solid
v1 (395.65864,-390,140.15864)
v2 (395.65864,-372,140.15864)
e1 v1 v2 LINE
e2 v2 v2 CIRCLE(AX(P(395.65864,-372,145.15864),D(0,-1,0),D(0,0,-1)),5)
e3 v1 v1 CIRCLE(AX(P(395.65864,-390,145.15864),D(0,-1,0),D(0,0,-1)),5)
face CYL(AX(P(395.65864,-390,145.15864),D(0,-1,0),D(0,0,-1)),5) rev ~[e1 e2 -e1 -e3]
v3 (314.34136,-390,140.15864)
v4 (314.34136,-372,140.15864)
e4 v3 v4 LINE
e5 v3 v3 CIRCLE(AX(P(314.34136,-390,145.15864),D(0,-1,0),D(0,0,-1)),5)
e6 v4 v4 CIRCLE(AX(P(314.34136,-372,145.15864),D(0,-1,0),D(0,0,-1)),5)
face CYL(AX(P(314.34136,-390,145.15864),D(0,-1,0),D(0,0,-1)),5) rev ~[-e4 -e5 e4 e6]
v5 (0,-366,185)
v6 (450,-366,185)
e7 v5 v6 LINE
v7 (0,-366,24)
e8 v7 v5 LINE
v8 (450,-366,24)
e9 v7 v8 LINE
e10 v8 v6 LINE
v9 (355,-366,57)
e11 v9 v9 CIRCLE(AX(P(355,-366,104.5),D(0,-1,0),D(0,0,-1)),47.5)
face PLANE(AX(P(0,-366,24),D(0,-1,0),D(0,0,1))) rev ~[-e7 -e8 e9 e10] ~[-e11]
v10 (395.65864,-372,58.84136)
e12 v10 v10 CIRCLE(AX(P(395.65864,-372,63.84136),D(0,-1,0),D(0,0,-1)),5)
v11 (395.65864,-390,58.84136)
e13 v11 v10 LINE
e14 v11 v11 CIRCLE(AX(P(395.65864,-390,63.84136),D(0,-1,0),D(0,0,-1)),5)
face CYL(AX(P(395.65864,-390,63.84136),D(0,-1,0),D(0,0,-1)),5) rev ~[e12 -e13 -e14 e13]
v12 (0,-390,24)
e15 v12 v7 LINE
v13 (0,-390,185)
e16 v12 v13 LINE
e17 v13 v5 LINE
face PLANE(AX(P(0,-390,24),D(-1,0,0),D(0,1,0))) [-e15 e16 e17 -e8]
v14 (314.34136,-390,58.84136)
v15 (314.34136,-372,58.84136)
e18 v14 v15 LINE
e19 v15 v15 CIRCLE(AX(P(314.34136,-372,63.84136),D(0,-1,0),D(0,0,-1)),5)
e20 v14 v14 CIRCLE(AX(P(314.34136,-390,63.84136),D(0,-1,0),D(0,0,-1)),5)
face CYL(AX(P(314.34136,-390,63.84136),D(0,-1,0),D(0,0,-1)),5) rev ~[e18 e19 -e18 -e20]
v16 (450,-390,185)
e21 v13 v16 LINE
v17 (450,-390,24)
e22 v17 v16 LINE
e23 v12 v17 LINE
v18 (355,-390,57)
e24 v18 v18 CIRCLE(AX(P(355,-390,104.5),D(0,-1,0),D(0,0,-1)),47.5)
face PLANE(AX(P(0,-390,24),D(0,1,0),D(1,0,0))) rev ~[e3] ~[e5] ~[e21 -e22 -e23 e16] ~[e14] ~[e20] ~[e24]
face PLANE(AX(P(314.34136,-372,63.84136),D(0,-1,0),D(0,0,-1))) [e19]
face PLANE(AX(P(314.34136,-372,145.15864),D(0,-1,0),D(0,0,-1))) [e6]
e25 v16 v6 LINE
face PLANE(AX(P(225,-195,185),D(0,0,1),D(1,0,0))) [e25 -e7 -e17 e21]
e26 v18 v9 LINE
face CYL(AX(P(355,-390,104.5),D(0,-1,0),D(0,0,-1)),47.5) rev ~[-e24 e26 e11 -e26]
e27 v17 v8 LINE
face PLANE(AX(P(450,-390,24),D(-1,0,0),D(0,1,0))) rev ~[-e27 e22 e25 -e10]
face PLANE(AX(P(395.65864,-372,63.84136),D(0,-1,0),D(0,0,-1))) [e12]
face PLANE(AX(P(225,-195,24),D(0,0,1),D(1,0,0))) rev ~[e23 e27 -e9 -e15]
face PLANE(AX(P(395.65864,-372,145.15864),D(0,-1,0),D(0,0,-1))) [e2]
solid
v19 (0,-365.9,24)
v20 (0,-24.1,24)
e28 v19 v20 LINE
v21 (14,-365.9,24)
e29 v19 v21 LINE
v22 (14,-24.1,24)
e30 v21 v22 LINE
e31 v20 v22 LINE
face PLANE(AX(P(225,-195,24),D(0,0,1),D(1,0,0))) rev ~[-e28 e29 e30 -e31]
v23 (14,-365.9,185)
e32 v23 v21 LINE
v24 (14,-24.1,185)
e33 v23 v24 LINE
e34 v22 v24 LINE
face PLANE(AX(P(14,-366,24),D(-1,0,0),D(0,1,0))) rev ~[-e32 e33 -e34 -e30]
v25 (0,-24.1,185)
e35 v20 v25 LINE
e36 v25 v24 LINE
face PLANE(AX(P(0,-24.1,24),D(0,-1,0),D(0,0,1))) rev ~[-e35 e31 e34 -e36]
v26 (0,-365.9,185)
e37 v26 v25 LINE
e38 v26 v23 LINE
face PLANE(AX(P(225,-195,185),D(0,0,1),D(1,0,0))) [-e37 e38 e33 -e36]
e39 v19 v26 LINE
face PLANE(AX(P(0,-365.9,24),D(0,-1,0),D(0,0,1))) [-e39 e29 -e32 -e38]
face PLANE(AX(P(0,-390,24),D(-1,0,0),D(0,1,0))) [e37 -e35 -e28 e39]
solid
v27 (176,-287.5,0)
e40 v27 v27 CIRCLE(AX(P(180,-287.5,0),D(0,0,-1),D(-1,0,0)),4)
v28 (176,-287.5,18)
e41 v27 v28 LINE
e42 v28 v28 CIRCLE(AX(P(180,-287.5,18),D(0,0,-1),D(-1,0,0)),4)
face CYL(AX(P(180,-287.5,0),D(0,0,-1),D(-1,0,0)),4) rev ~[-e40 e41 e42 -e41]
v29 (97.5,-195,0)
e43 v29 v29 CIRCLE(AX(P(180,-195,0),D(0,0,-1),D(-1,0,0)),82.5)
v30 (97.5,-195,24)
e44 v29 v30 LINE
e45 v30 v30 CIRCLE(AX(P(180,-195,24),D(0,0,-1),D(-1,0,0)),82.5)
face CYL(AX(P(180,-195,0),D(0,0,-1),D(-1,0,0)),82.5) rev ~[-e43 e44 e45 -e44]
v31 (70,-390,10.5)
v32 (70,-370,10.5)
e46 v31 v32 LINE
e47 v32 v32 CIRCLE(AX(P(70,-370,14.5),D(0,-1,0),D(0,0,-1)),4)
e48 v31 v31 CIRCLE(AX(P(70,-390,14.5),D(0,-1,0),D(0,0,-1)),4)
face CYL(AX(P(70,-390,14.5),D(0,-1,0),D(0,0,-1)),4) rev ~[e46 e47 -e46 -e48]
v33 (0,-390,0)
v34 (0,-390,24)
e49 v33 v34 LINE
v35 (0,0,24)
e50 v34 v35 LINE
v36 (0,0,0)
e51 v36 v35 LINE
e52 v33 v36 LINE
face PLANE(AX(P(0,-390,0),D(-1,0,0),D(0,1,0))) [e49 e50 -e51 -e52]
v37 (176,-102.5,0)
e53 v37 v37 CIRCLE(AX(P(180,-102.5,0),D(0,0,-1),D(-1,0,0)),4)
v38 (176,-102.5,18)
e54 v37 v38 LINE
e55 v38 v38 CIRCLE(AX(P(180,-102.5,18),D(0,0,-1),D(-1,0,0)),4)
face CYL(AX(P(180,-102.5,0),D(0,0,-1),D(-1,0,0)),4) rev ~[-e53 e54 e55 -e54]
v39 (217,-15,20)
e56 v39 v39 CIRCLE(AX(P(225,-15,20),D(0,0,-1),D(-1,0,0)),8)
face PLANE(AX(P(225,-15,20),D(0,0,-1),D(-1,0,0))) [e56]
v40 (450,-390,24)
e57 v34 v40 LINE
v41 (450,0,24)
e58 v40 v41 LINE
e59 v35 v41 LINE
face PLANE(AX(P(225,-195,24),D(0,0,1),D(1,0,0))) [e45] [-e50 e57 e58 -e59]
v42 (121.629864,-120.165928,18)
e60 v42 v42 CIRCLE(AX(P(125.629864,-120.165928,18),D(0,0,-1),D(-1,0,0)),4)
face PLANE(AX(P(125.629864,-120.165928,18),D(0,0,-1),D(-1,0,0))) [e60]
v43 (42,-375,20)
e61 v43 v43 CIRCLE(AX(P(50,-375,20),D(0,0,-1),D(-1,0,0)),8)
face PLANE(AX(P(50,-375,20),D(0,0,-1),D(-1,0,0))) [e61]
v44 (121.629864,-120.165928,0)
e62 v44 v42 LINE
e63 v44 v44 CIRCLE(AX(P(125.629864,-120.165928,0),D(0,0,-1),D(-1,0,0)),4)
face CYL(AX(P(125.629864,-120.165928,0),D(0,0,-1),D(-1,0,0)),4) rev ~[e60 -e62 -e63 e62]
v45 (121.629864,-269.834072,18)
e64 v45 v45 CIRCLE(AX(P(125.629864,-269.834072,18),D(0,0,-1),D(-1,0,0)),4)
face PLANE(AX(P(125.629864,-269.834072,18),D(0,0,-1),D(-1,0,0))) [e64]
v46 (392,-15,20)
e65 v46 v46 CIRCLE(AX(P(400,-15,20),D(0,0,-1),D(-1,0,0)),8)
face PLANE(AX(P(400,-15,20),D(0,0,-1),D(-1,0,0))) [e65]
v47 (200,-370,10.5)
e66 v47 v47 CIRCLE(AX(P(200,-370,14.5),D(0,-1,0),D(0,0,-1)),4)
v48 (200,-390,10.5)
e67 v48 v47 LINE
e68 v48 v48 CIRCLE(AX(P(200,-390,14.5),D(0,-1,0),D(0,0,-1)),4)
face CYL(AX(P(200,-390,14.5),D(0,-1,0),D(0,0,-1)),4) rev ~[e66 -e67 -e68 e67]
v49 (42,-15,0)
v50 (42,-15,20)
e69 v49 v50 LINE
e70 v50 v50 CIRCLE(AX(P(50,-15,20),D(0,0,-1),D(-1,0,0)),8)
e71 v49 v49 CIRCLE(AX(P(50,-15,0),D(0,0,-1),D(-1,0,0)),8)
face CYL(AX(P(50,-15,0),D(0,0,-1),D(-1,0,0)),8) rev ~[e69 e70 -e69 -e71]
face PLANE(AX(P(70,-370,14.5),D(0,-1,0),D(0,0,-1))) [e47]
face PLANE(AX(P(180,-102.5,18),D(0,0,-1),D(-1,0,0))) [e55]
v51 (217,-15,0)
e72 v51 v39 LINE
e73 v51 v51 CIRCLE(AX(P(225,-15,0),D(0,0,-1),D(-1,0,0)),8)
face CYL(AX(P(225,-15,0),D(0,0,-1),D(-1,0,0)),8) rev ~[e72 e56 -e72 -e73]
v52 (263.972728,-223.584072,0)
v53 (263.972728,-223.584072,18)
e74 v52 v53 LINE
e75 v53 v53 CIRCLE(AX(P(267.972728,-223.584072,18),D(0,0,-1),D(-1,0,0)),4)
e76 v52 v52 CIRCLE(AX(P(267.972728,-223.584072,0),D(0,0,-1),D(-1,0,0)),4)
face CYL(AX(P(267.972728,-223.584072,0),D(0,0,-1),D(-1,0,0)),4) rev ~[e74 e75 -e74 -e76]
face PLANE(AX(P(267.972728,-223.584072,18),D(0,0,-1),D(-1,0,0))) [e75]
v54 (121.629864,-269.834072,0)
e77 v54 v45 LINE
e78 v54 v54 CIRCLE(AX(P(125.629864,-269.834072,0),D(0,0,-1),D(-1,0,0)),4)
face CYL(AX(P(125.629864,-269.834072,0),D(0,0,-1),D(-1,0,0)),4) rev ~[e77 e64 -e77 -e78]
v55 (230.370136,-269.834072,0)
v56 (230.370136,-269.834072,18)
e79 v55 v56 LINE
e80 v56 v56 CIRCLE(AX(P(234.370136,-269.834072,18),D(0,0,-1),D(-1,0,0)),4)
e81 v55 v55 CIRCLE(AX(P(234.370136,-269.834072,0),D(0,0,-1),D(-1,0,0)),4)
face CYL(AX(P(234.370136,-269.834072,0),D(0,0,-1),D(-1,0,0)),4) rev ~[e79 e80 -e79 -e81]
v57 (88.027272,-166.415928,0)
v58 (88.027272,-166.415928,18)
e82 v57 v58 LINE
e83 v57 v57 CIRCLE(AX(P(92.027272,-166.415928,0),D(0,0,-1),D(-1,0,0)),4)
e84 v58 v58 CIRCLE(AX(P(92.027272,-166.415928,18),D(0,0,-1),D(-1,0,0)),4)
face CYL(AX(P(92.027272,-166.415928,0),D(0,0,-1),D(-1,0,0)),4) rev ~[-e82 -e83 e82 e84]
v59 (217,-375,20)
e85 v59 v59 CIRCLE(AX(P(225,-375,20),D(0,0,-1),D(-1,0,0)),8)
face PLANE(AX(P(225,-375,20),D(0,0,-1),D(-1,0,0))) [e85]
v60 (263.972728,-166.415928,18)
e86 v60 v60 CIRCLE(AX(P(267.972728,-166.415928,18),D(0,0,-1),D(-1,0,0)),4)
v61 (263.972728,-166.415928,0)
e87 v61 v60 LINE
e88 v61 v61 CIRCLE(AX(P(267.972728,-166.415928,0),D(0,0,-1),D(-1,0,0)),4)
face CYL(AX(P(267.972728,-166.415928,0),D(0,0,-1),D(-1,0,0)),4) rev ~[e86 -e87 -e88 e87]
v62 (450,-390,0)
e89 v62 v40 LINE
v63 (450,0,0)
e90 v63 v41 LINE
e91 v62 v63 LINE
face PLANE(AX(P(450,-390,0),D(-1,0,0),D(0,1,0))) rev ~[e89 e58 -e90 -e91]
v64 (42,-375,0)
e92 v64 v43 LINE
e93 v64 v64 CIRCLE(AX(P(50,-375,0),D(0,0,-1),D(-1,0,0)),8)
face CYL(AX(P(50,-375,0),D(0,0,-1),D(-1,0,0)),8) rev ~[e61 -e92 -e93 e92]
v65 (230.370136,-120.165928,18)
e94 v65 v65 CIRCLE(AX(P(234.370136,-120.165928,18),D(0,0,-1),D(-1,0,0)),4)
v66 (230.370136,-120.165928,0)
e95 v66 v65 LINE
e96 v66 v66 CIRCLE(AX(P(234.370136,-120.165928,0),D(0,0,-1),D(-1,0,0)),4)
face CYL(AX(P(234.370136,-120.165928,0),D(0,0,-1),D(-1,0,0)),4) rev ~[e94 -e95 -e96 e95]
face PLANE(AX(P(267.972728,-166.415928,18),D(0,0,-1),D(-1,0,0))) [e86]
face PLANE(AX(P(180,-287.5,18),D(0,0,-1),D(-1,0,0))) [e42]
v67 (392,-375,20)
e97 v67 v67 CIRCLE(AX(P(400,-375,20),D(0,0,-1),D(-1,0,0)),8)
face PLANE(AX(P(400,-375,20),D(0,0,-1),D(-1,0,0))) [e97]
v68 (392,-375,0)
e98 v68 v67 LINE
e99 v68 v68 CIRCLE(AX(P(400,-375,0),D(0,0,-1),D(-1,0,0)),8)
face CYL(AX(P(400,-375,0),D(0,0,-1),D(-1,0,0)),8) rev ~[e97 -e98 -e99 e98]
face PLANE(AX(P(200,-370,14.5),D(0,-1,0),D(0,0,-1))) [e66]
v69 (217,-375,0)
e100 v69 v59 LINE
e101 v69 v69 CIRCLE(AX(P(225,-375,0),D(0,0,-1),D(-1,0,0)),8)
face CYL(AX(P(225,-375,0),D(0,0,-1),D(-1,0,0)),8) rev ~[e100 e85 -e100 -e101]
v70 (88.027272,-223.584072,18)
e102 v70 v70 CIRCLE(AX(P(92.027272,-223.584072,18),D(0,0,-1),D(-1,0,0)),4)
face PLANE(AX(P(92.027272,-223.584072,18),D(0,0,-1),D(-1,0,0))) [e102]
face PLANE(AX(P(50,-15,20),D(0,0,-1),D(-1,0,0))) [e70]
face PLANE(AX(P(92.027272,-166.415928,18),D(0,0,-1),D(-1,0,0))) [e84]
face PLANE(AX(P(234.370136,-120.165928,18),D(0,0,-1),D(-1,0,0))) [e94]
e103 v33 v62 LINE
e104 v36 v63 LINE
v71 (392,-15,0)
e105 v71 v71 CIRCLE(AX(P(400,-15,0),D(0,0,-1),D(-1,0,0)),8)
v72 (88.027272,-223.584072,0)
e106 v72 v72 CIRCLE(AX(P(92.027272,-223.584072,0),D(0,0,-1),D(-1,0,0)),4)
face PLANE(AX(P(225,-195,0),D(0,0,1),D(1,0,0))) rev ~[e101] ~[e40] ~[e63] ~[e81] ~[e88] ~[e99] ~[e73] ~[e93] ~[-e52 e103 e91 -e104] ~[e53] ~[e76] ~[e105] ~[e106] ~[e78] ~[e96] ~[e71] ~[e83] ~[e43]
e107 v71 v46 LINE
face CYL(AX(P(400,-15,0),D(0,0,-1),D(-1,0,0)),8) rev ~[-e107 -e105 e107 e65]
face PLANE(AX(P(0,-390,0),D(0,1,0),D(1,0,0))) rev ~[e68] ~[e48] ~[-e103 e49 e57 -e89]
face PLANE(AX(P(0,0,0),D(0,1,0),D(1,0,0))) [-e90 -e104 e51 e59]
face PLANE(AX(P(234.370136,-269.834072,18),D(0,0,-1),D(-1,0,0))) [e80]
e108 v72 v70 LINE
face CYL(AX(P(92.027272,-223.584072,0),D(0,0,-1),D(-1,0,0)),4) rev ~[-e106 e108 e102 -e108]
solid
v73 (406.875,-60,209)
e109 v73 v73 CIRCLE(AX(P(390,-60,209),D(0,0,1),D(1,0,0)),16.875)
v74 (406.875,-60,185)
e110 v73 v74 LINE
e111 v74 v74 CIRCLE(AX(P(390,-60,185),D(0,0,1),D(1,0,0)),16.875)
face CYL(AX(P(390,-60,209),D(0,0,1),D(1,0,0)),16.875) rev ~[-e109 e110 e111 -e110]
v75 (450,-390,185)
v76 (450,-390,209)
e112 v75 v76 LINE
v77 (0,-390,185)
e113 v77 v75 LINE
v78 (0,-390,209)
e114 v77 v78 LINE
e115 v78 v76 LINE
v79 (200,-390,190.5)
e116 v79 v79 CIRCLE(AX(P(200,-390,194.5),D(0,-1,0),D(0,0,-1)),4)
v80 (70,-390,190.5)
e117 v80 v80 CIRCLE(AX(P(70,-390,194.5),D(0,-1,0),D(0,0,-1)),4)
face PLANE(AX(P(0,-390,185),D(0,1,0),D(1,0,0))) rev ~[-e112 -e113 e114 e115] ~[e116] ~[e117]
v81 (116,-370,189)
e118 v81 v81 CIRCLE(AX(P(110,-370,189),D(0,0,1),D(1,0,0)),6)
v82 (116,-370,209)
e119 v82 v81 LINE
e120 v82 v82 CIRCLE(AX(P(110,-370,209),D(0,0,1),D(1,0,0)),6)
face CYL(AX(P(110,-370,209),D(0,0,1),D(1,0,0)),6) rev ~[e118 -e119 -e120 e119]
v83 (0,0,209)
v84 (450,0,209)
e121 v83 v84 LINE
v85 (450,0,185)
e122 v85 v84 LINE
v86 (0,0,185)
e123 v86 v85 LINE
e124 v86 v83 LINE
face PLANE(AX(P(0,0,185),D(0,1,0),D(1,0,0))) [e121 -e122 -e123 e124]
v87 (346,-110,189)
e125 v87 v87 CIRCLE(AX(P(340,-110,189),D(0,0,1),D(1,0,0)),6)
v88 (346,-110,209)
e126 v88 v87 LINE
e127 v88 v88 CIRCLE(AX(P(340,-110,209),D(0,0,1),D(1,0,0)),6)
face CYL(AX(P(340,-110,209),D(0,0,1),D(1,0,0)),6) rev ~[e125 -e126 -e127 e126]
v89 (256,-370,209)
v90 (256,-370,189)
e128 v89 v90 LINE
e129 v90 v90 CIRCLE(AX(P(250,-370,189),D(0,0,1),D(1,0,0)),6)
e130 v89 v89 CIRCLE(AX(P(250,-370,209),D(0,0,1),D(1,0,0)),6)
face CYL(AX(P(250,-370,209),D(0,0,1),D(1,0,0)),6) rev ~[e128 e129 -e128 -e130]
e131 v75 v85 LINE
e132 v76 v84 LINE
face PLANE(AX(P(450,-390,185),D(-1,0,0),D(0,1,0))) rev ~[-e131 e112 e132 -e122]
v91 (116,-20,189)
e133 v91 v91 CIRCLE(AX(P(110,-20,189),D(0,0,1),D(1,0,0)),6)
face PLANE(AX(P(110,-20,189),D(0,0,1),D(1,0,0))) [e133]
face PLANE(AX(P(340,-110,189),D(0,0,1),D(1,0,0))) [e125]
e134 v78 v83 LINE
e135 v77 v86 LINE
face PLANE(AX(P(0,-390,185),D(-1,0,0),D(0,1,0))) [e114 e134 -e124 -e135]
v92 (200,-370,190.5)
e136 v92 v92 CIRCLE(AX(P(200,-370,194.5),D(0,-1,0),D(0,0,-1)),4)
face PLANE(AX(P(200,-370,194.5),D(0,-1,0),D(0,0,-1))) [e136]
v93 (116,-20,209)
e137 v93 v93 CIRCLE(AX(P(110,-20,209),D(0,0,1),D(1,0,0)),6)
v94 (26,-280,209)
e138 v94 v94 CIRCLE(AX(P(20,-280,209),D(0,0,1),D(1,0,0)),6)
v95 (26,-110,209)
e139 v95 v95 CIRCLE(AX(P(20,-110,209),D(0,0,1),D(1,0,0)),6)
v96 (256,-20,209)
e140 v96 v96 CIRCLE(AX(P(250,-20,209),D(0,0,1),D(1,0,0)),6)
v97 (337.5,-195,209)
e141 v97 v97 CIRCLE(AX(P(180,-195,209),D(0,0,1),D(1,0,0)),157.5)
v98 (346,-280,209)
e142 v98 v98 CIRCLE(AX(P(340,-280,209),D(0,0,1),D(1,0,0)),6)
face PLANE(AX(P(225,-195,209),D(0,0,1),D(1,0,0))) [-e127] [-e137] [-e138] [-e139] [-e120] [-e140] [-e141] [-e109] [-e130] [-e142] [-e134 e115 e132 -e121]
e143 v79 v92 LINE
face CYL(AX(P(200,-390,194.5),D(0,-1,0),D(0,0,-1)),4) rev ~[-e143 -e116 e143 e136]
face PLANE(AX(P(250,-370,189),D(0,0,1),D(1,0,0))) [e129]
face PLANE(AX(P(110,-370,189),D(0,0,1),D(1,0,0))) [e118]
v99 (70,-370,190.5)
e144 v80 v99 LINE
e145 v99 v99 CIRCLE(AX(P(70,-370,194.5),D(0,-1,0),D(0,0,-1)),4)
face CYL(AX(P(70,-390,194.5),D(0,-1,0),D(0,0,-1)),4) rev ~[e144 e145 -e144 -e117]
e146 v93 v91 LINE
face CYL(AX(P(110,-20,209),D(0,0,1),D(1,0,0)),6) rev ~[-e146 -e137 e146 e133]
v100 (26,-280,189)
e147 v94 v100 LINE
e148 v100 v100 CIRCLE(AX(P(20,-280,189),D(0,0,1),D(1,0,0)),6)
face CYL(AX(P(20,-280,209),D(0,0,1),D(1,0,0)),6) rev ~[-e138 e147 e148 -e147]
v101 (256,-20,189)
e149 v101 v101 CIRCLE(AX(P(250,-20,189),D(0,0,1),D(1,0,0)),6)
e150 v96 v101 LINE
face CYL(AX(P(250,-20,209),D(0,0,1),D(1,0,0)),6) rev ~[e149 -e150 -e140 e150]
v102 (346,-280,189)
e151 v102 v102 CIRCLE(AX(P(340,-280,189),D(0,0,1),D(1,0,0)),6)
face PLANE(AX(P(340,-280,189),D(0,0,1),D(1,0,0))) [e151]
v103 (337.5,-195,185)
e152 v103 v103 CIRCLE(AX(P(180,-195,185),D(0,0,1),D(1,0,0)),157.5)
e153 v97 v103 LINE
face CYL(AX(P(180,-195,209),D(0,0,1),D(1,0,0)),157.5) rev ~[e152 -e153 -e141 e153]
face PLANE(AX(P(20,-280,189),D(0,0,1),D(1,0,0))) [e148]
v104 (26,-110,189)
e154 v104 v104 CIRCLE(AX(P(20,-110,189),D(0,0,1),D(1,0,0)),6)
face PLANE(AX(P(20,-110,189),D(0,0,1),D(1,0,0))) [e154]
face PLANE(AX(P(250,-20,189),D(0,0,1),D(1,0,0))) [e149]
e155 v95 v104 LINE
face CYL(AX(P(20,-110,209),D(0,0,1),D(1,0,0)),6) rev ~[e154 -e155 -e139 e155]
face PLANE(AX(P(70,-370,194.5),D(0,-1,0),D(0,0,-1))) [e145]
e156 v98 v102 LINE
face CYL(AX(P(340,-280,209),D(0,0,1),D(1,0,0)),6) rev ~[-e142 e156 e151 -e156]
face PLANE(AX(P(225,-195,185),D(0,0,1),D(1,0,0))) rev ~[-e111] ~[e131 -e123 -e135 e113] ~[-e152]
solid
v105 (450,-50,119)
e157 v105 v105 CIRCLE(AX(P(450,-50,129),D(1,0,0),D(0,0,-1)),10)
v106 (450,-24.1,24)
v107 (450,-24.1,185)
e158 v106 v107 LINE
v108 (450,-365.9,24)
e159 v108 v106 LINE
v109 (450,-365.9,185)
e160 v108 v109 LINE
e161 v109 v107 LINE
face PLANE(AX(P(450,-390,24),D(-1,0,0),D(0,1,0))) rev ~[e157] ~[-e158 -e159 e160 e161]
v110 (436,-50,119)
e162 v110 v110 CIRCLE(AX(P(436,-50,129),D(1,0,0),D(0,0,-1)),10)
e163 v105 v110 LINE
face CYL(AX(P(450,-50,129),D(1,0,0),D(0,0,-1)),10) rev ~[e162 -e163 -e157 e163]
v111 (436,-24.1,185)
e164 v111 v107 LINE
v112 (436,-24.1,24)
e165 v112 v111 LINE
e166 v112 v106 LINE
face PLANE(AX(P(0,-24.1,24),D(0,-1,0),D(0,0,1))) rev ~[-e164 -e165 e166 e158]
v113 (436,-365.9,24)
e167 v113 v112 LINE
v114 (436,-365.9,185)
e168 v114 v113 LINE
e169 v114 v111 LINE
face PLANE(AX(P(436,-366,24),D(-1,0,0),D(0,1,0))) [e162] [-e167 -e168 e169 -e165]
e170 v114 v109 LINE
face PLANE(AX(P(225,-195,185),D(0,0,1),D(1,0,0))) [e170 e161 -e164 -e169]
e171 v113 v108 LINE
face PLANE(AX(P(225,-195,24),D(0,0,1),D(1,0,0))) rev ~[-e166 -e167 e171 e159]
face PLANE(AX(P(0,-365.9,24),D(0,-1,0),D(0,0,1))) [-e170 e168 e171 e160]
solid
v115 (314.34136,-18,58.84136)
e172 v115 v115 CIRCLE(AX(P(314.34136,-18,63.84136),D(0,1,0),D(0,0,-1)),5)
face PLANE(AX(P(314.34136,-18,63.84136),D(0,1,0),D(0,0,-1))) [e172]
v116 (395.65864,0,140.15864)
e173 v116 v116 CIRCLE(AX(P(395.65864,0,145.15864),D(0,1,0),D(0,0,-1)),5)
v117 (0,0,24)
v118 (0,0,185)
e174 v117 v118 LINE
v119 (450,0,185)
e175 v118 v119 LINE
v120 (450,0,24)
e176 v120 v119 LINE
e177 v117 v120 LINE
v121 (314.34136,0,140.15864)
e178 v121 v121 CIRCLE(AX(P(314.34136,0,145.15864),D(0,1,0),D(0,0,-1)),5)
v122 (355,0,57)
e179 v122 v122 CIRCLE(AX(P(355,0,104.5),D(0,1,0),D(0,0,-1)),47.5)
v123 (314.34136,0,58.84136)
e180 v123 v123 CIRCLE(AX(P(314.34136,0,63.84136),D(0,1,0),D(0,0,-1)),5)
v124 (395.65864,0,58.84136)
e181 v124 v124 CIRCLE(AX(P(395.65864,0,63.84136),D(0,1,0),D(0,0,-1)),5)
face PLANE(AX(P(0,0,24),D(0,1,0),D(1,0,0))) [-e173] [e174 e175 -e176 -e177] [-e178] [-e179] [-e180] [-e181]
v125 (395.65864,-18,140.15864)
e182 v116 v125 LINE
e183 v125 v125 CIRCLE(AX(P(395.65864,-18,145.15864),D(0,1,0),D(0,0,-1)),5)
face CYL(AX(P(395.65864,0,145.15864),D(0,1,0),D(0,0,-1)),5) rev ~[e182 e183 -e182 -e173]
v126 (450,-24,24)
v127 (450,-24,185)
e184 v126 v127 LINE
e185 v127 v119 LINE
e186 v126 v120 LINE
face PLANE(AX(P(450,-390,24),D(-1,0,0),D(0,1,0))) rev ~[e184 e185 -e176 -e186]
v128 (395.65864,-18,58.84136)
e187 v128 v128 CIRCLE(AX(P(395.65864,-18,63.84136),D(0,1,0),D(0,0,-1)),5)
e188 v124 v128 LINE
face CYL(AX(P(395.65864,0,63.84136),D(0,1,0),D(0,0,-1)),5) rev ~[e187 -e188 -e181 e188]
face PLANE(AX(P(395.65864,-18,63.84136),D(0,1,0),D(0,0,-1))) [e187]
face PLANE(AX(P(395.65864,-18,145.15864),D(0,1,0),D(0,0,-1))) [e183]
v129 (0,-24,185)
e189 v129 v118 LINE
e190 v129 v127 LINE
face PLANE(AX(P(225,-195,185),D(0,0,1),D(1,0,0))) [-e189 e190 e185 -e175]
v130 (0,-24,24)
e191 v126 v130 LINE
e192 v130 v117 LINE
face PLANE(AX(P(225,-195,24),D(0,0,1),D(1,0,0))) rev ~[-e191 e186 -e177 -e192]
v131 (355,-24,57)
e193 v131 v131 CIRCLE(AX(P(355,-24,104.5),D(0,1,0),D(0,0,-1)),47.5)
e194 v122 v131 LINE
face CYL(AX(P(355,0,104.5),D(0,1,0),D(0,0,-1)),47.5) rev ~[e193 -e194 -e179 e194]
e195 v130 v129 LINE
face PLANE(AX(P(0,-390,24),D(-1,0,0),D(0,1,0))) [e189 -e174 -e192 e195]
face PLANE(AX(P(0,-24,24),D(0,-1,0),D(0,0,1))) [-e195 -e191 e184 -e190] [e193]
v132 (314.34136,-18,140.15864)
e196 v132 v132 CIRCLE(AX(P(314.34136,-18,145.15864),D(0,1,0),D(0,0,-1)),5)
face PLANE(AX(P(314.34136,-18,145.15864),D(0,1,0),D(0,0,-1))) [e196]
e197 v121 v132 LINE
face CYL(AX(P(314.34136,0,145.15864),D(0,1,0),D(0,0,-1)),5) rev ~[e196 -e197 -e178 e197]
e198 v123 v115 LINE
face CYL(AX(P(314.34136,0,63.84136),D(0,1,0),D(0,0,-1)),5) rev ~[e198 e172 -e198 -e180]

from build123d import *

# Parameters (mm, degrees)
SKETCH_1_W           = 450
SKETCH_1_H           = 390
EXTRUDE_1_DEPTH      = 24
SKETCH_2_W           = 450
SKETCH_2_H           = 390
SKETCH_2_W_2         = 402
SKETCH_2_H_2         = 342
EXTRUDE_2_DEPTH      = 161
SKETCH_3_W           = 450
SKETCH_3_H           = 390
EXTRUDE_3_DEPTH      = 24
SKETCH_6_R           = 82.5
CUT_EXTRUDE_3_DEPTH  = 33
SKETCH_9_R           = 4
CUT_EXTRUDE_4_DEPTH  = 18
SKETCH_4_R           = 157.5
CUT_EXTRUDE_5_DEPTH  = 43
SKETCH_5_R           = 47.5
CUT_EXTRUDE_6_DEPTH  = 43
SKETCH_10_R          = 5
CUT_EXTRUDE_7_DEPTH  = 18
SKETCH_11_W          = 161
SKETCH_11_H          = 0.1
CUT_EXTRUDE_8_DEPTH  = 632.09508
SKETCH_12_R          = 47.5
CUT_EXTRUDE_9_DEPTH  = 40.2
SKETCH_13_R          = 5
CUT_EXTRUDE_10_DEPTH = 18
SKETCH_14_W          = 10
SKETCH_14_H          = 341.9
CUT_EXTRUDE_12_DEPTH = 161
SKETCH_17_R          = 4
CUT_EXTRUDE_14_DEPTH = 20
SKETCH_19_R          = 8
CUT_EXTRUDE_18_DEPTH = 20
SKETCH_20_R          = 6
CUT_EXTRUDE_19_DEPTH = 20
SKETCH_21_R          = 10
CUT_EXTRUDE_20_DEPTH = 35
SKETCH_22_R          = 16.875
CUT_EXTRUDE_21_DEPTH = 40


with BuildPart() as part:
    # 草图1 → 拉伸1 (new body)
    with BuildSketch(Plane.XY):
        with Locations((225, -195)):
            Rectangle(SKETCH_1_W, SKETCH_1_H)
    extrude(amount=EXTRUDE_1_DEPTH)

    # 草图6 → 切除-拉伸3 (cut)
    with BuildSketch(Plane(origin=(0, 0, 0), x_dir=(-1, 0, 0), z_dir=(0, 0, -1))):
        with Locations((-180, -195)):
            Circle(SKETCH_6_R)
    extrude(amount=-CUT_EXTRUDE_3_DEPTH, mode=Mode.SUBTRACT)

    # 草图9 → 切除-拉伸4 (cut)
    with BuildSketch(Plane(origin=(0, 0, 0), x_dir=(-1, 0, 0), z_dir=(0, 0, -1))):
        with Locations((-180, -102.5)):
            Circle(SKETCH_9_R)
        with Locations((-125.629864163, -120.16592802)):
            Circle(SKETCH_9_R)
        with Locations((-92.027272243, -166.41592802)):
            Circle(SKETCH_9_R)
        with Locations((-92.027272243, -223.58407198)):
            Circle(SKETCH_9_R)
        with Locations((-125.629864163, -269.83407198)):
            Circle(SKETCH_9_R)
        with Locations((-180, -287.5)):
            Circle(SKETCH_9_R)
        with Locations((-234.370135837, -269.83407198)):
            Circle(SKETCH_9_R)
        with Locations((-267.972727757, -223.58407198)):
            Circle(SKETCH_9_R)
        with Locations((-267.972727757, -166.41592802)):
            Circle(SKETCH_9_R)
        with Locations((-234.370135837, -120.16592802)):
            Circle(SKETCH_9_R)
    extrude(amount=-CUT_EXTRUDE_4_DEPTH, mode=Mode.SUBTRACT)


with BuildPart() as body_2:
    # 草图2 → 拉伸2 (new body)
    with BuildSketch(Plane.XY.offset(24)):
        with Locations((225, -195)):
            Rectangle(SKETCH_2_W, SKETCH_2_H)
        with Locations((225, -195)):
            Rectangle(SKETCH_2_W_2, SKETCH_2_H_2, mode=Mode.SUBTRACT)
    extrude(amount=EXTRUDE_2_DEPTH)

    # 草图5 → 切除-拉伸6 (cut)
    with BuildSketch(Plane.XZ.offset(390)):
        with Locations(Location((355, 104.5, 0), (0, 0, 270))):
            Circle(SKETCH_5_R)
    extrude(amount=-CUT_EXTRUDE_6_DEPTH, mode=Mode.SUBTRACT)

    # 草图10 → 切除-拉伸7 (cut)
    with BuildSketch(Plane.XZ.offset(390)):
        with Locations(Location((395.658639918, 145.158639918, 0), (0, 0, 270))):
            Circle(SKETCH_10_R)
        with Locations(Location((395.658639918, 63.841360082, 0), (0, 0, 270))):
            Circle(SKETCH_10_R)
        with Locations(Location((314.341360082, 63.841360082, 0), (0, 0, 270))):
            Circle(SKETCH_10_R)
        with Locations(Location((314.341360082, 145.158639918, 0), (0, 0, 270))):
            Circle(SKETCH_10_R)
    extrude(amount=-CUT_EXTRUDE_7_DEPTH, mode=Mode.SUBTRACT)

    # 草图11 → 切除-拉伸8 (cut, through all)
    with BuildSketch(Plane.ZY):
        with Locations((104.5, -24.05)):
            Rectangle(SKETCH_11_W, SKETCH_11_H)
        with Locations((104.5, -365.95)):
            Rectangle(SKETCH_11_W, SKETCH_11_H)
    extrude(amount=-CUT_EXTRUDE_8_DEPTH, mode=Mode.SUBTRACT)


with BuildPart() as body_3:
    # 草图3 → 拉伸3 (new body)
    with BuildSketch(Plane.XY.offset(185)):
        with Locations((225, -195)):
            Rectangle(SKETCH_3_W, SKETCH_3_H)
    extrude(amount=EXTRUDE_3_DEPTH)

    # 草图4 → 切除-拉伸5 (cut)
    with BuildSketch(Plane.XY.offset(209)):
        with Locations((180, -195)):
            Circle(SKETCH_4_R)
    extrude(amount=-CUT_EXTRUDE_5_DEPTH, mode=Mode.SUBTRACT)


with BuildPart() as cut_extrude_8_piece_1:
    # of the separate pieces the step leaves, piece 1, a body of its own (cut_extrude_8_pieces)
    add(body_2.part.solids().sort_by_distance((0, 0, 24))[0])

    # 草图12 → 切除-拉伸9 (cut)
    with BuildSketch(Plane(origin=(0, 0, 0), x_dir=(1, 0, 0), z_dir=(0, 1, 0))):
        with Locations(Location((355, -104.5, 0), (0, 0, 90))):
            Circle(SKETCH_12_R)
    extrude(amount=-CUT_EXTRUDE_9_DEPTH, mode=Mode.SUBTRACT)

    # 草图13 → 切除-拉伸10 (cut)
    with BuildSketch(Plane(origin=(0, 0, 0), x_dir=(1, 0, 0), z_dir=(0, 1, 0))):
        with Locations(Location((395.658639918, -145.158639918, 0), (0, 0, 90))):
            Circle(SKETCH_13_R)
        with Locations(Location((314.341360082, -145.158639918, 0), (0, 0, 90))):
            Circle(SKETCH_13_R)
        with Locations(Location((395.658639918, -63.841360082, 0), (0, 0, 90))):
            Circle(SKETCH_13_R)
        with Locations(Location((314.341360082, -63.841360082, 0), (0, 0, 90))):
            Circle(SKETCH_13_R)
    extrude(amount=-CUT_EXTRUDE_10_DEPTH, mode=Mode.SUBTRACT)


with BuildPart() as cut_extrude_8_piece_2:
    # of the separate pieces the step leaves, piece 2, a body of its own (cut_extrude_8_pieces)
    add(body_2.part.solids().sort_by_distance((0, -390, 24))[0])


with BuildPart() as cut_extrude_8_piece_3:
    # of the separate pieces the step leaves, piece 3, a body of its own (cut_extrude_8_pieces)
    add(body_2.part.solids().sort_by_distance((450, -24.1, 24))[0])


with BuildPart() as cut_extrude_8_piece_4:
    # of the separate pieces the step leaves, piece 4, a body of its own (cut_extrude_8_pieces)
    add(body_2.part.solids().sort_by_distance((0, -365.9, 24))[0])


with BuildPart() as cut_extrude_12_tool:
    # 草图14 → 切除-拉伸12 (new body)
    with BuildSketch(Plane(origin=(0, 0, 24), x_dir=(-1, 0, 0), z_dir=(0, 0, -1))):
        with Locations((-19, -195.05)):
            Rectangle(SKETCH_14_W, SKETCH_14_H)
        with Locations((-431, -195.05)):
            Rectangle(SKETCH_14_W, SKETCH_14_H)
    extrude(amount=-CUT_EXTRUDE_12_DEPTH)


with BuildPart() as cut_extrude_8_piece_3_1:
    add(cut_extrude_8_piece_3.part)

    # 切除-拉伸12: cut by cut_extrude_12_tool
    add(cut_extrude_12_tool.part, mode=Mode.SUBTRACT)

    # 草图21 → 切除-拉伸20 (cut)
    with BuildSketch(Plane(origin=(450, 0, 0), x_dir=(0, 0, -1), z_dir=(1, 0, 0))):
        with Locations((-129, -50)):
            Circle(SKETCH_21_R)
    extrude(amount=-CUT_EXTRUDE_20_DEPTH, mode=Mode.SUBTRACT)


with BuildPart() as cut_extrude_8_piece_4_1:
    add(cut_extrude_8_piece_4.part)

    # 切除-拉伸12: cut by cut_extrude_12_tool
    add(cut_extrude_12_tool.part, mode=Mode.SUBTRACT)


with BuildPart() as cut_extrude_14_tool:
    # 草图17 → 切除-拉伸14 (new body)
    with BuildSketch(Plane.XZ.offset(390)):
        with Locations(Location((70, 194.5, 0), (0, 0, 270))):
            Circle(SKETCH_17_R)
        with Locations(Location((200, 194.5, 0), (0, 0, 270))):
            Circle(SKETCH_17_R)
        with Locations(Location((70, 14.5, 0), (0, 0, 270))):
            Circle(SKETCH_17_R)
        with Locations(Location((200, 14.5, 0), (0, 0, 270))):
            Circle(SKETCH_17_R)
    extrude(amount=-CUT_EXTRUDE_14_DEPTH)


with BuildPart() as part_1:
    add(part.part)

    # 切除-拉伸14: cut by cut_extrude_14_tool
    add(cut_extrude_14_tool.part, mode=Mode.SUBTRACT)

    # 草图19 → 切除-拉伸18 (cut)
    with BuildSketch(Plane(origin=(0, 0, 0), x_dir=(-1, 0, 0), z_dir=(0, 0, -1))):
        with Locations((-400, -15)):
            Circle(SKETCH_19_R)
        with Locations((-225, -15)):
            Circle(SKETCH_19_R)
        with Locations((-50, -15)):
            Circle(SKETCH_19_R)
        with Locations((-400, -375)):
            Circle(SKETCH_19_R)
        with Locations((-225, -375)):
            Circle(SKETCH_19_R)
        with Locations((-50, -375)):
            Circle(SKETCH_19_R)
    extrude(amount=-CUT_EXTRUDE_18_DEPTH, mode=Mode.SUBTRACT)


with BuildPart() as body_3_1:
    add(body_3.part)

    # 切除-拉伸14: cut by cut_extrude_14_tool
    add(cut_extrude_14_tool.part, mode=Mode.SUBTRACT)

    # 草图20 → 切除-拉伸19 (cut)
    with BuildSketch(Plane.XY.offset(209)):
        with Locations((110, -20)):
            Circle(SKETCH_20_R)
        with Locations((250, -20)):
            Circle(SKETCH_20_R)
        with Locations((110, -370)):
            Circle(SKETCH_20_R)
        with Locations((250, -370)):
            Circle(SKETCH_20_R)
        with Locations((20, -110)):
            Circle(SKETCH_20_R)
        with Locations((340, -110)):
            Circle(SKETCH_20_R)
        with Locations((20, -280)):
            Circle(SKETCH_20_R)
        with Locations((340, -280)):
            Circle(SKETCH_20_R)
    extrude(amount=-CUT_EXTRUDE_19_DEPTH, mode=Mode.SUBTRACT)

    # 草图22 → 切除-拉伸21 (cut)
    with BuildSketch(Plane.XY.offset(209)):
        with Locations((390, -60)):
            Circle(SKETCH_22_R)
    extrude(amount=-CUT_EXTRUDE_21_DEPTH, mode=Mode.SUBTRACT)


solid = Compound([cut_extrude_8_piece_1.part, cut_extrude_8_piece_2.part, cut_extrude_8_piece_3_1.part, cut_extrude_8_piece_4_1.part, part_1.part, body_3_1.part])
